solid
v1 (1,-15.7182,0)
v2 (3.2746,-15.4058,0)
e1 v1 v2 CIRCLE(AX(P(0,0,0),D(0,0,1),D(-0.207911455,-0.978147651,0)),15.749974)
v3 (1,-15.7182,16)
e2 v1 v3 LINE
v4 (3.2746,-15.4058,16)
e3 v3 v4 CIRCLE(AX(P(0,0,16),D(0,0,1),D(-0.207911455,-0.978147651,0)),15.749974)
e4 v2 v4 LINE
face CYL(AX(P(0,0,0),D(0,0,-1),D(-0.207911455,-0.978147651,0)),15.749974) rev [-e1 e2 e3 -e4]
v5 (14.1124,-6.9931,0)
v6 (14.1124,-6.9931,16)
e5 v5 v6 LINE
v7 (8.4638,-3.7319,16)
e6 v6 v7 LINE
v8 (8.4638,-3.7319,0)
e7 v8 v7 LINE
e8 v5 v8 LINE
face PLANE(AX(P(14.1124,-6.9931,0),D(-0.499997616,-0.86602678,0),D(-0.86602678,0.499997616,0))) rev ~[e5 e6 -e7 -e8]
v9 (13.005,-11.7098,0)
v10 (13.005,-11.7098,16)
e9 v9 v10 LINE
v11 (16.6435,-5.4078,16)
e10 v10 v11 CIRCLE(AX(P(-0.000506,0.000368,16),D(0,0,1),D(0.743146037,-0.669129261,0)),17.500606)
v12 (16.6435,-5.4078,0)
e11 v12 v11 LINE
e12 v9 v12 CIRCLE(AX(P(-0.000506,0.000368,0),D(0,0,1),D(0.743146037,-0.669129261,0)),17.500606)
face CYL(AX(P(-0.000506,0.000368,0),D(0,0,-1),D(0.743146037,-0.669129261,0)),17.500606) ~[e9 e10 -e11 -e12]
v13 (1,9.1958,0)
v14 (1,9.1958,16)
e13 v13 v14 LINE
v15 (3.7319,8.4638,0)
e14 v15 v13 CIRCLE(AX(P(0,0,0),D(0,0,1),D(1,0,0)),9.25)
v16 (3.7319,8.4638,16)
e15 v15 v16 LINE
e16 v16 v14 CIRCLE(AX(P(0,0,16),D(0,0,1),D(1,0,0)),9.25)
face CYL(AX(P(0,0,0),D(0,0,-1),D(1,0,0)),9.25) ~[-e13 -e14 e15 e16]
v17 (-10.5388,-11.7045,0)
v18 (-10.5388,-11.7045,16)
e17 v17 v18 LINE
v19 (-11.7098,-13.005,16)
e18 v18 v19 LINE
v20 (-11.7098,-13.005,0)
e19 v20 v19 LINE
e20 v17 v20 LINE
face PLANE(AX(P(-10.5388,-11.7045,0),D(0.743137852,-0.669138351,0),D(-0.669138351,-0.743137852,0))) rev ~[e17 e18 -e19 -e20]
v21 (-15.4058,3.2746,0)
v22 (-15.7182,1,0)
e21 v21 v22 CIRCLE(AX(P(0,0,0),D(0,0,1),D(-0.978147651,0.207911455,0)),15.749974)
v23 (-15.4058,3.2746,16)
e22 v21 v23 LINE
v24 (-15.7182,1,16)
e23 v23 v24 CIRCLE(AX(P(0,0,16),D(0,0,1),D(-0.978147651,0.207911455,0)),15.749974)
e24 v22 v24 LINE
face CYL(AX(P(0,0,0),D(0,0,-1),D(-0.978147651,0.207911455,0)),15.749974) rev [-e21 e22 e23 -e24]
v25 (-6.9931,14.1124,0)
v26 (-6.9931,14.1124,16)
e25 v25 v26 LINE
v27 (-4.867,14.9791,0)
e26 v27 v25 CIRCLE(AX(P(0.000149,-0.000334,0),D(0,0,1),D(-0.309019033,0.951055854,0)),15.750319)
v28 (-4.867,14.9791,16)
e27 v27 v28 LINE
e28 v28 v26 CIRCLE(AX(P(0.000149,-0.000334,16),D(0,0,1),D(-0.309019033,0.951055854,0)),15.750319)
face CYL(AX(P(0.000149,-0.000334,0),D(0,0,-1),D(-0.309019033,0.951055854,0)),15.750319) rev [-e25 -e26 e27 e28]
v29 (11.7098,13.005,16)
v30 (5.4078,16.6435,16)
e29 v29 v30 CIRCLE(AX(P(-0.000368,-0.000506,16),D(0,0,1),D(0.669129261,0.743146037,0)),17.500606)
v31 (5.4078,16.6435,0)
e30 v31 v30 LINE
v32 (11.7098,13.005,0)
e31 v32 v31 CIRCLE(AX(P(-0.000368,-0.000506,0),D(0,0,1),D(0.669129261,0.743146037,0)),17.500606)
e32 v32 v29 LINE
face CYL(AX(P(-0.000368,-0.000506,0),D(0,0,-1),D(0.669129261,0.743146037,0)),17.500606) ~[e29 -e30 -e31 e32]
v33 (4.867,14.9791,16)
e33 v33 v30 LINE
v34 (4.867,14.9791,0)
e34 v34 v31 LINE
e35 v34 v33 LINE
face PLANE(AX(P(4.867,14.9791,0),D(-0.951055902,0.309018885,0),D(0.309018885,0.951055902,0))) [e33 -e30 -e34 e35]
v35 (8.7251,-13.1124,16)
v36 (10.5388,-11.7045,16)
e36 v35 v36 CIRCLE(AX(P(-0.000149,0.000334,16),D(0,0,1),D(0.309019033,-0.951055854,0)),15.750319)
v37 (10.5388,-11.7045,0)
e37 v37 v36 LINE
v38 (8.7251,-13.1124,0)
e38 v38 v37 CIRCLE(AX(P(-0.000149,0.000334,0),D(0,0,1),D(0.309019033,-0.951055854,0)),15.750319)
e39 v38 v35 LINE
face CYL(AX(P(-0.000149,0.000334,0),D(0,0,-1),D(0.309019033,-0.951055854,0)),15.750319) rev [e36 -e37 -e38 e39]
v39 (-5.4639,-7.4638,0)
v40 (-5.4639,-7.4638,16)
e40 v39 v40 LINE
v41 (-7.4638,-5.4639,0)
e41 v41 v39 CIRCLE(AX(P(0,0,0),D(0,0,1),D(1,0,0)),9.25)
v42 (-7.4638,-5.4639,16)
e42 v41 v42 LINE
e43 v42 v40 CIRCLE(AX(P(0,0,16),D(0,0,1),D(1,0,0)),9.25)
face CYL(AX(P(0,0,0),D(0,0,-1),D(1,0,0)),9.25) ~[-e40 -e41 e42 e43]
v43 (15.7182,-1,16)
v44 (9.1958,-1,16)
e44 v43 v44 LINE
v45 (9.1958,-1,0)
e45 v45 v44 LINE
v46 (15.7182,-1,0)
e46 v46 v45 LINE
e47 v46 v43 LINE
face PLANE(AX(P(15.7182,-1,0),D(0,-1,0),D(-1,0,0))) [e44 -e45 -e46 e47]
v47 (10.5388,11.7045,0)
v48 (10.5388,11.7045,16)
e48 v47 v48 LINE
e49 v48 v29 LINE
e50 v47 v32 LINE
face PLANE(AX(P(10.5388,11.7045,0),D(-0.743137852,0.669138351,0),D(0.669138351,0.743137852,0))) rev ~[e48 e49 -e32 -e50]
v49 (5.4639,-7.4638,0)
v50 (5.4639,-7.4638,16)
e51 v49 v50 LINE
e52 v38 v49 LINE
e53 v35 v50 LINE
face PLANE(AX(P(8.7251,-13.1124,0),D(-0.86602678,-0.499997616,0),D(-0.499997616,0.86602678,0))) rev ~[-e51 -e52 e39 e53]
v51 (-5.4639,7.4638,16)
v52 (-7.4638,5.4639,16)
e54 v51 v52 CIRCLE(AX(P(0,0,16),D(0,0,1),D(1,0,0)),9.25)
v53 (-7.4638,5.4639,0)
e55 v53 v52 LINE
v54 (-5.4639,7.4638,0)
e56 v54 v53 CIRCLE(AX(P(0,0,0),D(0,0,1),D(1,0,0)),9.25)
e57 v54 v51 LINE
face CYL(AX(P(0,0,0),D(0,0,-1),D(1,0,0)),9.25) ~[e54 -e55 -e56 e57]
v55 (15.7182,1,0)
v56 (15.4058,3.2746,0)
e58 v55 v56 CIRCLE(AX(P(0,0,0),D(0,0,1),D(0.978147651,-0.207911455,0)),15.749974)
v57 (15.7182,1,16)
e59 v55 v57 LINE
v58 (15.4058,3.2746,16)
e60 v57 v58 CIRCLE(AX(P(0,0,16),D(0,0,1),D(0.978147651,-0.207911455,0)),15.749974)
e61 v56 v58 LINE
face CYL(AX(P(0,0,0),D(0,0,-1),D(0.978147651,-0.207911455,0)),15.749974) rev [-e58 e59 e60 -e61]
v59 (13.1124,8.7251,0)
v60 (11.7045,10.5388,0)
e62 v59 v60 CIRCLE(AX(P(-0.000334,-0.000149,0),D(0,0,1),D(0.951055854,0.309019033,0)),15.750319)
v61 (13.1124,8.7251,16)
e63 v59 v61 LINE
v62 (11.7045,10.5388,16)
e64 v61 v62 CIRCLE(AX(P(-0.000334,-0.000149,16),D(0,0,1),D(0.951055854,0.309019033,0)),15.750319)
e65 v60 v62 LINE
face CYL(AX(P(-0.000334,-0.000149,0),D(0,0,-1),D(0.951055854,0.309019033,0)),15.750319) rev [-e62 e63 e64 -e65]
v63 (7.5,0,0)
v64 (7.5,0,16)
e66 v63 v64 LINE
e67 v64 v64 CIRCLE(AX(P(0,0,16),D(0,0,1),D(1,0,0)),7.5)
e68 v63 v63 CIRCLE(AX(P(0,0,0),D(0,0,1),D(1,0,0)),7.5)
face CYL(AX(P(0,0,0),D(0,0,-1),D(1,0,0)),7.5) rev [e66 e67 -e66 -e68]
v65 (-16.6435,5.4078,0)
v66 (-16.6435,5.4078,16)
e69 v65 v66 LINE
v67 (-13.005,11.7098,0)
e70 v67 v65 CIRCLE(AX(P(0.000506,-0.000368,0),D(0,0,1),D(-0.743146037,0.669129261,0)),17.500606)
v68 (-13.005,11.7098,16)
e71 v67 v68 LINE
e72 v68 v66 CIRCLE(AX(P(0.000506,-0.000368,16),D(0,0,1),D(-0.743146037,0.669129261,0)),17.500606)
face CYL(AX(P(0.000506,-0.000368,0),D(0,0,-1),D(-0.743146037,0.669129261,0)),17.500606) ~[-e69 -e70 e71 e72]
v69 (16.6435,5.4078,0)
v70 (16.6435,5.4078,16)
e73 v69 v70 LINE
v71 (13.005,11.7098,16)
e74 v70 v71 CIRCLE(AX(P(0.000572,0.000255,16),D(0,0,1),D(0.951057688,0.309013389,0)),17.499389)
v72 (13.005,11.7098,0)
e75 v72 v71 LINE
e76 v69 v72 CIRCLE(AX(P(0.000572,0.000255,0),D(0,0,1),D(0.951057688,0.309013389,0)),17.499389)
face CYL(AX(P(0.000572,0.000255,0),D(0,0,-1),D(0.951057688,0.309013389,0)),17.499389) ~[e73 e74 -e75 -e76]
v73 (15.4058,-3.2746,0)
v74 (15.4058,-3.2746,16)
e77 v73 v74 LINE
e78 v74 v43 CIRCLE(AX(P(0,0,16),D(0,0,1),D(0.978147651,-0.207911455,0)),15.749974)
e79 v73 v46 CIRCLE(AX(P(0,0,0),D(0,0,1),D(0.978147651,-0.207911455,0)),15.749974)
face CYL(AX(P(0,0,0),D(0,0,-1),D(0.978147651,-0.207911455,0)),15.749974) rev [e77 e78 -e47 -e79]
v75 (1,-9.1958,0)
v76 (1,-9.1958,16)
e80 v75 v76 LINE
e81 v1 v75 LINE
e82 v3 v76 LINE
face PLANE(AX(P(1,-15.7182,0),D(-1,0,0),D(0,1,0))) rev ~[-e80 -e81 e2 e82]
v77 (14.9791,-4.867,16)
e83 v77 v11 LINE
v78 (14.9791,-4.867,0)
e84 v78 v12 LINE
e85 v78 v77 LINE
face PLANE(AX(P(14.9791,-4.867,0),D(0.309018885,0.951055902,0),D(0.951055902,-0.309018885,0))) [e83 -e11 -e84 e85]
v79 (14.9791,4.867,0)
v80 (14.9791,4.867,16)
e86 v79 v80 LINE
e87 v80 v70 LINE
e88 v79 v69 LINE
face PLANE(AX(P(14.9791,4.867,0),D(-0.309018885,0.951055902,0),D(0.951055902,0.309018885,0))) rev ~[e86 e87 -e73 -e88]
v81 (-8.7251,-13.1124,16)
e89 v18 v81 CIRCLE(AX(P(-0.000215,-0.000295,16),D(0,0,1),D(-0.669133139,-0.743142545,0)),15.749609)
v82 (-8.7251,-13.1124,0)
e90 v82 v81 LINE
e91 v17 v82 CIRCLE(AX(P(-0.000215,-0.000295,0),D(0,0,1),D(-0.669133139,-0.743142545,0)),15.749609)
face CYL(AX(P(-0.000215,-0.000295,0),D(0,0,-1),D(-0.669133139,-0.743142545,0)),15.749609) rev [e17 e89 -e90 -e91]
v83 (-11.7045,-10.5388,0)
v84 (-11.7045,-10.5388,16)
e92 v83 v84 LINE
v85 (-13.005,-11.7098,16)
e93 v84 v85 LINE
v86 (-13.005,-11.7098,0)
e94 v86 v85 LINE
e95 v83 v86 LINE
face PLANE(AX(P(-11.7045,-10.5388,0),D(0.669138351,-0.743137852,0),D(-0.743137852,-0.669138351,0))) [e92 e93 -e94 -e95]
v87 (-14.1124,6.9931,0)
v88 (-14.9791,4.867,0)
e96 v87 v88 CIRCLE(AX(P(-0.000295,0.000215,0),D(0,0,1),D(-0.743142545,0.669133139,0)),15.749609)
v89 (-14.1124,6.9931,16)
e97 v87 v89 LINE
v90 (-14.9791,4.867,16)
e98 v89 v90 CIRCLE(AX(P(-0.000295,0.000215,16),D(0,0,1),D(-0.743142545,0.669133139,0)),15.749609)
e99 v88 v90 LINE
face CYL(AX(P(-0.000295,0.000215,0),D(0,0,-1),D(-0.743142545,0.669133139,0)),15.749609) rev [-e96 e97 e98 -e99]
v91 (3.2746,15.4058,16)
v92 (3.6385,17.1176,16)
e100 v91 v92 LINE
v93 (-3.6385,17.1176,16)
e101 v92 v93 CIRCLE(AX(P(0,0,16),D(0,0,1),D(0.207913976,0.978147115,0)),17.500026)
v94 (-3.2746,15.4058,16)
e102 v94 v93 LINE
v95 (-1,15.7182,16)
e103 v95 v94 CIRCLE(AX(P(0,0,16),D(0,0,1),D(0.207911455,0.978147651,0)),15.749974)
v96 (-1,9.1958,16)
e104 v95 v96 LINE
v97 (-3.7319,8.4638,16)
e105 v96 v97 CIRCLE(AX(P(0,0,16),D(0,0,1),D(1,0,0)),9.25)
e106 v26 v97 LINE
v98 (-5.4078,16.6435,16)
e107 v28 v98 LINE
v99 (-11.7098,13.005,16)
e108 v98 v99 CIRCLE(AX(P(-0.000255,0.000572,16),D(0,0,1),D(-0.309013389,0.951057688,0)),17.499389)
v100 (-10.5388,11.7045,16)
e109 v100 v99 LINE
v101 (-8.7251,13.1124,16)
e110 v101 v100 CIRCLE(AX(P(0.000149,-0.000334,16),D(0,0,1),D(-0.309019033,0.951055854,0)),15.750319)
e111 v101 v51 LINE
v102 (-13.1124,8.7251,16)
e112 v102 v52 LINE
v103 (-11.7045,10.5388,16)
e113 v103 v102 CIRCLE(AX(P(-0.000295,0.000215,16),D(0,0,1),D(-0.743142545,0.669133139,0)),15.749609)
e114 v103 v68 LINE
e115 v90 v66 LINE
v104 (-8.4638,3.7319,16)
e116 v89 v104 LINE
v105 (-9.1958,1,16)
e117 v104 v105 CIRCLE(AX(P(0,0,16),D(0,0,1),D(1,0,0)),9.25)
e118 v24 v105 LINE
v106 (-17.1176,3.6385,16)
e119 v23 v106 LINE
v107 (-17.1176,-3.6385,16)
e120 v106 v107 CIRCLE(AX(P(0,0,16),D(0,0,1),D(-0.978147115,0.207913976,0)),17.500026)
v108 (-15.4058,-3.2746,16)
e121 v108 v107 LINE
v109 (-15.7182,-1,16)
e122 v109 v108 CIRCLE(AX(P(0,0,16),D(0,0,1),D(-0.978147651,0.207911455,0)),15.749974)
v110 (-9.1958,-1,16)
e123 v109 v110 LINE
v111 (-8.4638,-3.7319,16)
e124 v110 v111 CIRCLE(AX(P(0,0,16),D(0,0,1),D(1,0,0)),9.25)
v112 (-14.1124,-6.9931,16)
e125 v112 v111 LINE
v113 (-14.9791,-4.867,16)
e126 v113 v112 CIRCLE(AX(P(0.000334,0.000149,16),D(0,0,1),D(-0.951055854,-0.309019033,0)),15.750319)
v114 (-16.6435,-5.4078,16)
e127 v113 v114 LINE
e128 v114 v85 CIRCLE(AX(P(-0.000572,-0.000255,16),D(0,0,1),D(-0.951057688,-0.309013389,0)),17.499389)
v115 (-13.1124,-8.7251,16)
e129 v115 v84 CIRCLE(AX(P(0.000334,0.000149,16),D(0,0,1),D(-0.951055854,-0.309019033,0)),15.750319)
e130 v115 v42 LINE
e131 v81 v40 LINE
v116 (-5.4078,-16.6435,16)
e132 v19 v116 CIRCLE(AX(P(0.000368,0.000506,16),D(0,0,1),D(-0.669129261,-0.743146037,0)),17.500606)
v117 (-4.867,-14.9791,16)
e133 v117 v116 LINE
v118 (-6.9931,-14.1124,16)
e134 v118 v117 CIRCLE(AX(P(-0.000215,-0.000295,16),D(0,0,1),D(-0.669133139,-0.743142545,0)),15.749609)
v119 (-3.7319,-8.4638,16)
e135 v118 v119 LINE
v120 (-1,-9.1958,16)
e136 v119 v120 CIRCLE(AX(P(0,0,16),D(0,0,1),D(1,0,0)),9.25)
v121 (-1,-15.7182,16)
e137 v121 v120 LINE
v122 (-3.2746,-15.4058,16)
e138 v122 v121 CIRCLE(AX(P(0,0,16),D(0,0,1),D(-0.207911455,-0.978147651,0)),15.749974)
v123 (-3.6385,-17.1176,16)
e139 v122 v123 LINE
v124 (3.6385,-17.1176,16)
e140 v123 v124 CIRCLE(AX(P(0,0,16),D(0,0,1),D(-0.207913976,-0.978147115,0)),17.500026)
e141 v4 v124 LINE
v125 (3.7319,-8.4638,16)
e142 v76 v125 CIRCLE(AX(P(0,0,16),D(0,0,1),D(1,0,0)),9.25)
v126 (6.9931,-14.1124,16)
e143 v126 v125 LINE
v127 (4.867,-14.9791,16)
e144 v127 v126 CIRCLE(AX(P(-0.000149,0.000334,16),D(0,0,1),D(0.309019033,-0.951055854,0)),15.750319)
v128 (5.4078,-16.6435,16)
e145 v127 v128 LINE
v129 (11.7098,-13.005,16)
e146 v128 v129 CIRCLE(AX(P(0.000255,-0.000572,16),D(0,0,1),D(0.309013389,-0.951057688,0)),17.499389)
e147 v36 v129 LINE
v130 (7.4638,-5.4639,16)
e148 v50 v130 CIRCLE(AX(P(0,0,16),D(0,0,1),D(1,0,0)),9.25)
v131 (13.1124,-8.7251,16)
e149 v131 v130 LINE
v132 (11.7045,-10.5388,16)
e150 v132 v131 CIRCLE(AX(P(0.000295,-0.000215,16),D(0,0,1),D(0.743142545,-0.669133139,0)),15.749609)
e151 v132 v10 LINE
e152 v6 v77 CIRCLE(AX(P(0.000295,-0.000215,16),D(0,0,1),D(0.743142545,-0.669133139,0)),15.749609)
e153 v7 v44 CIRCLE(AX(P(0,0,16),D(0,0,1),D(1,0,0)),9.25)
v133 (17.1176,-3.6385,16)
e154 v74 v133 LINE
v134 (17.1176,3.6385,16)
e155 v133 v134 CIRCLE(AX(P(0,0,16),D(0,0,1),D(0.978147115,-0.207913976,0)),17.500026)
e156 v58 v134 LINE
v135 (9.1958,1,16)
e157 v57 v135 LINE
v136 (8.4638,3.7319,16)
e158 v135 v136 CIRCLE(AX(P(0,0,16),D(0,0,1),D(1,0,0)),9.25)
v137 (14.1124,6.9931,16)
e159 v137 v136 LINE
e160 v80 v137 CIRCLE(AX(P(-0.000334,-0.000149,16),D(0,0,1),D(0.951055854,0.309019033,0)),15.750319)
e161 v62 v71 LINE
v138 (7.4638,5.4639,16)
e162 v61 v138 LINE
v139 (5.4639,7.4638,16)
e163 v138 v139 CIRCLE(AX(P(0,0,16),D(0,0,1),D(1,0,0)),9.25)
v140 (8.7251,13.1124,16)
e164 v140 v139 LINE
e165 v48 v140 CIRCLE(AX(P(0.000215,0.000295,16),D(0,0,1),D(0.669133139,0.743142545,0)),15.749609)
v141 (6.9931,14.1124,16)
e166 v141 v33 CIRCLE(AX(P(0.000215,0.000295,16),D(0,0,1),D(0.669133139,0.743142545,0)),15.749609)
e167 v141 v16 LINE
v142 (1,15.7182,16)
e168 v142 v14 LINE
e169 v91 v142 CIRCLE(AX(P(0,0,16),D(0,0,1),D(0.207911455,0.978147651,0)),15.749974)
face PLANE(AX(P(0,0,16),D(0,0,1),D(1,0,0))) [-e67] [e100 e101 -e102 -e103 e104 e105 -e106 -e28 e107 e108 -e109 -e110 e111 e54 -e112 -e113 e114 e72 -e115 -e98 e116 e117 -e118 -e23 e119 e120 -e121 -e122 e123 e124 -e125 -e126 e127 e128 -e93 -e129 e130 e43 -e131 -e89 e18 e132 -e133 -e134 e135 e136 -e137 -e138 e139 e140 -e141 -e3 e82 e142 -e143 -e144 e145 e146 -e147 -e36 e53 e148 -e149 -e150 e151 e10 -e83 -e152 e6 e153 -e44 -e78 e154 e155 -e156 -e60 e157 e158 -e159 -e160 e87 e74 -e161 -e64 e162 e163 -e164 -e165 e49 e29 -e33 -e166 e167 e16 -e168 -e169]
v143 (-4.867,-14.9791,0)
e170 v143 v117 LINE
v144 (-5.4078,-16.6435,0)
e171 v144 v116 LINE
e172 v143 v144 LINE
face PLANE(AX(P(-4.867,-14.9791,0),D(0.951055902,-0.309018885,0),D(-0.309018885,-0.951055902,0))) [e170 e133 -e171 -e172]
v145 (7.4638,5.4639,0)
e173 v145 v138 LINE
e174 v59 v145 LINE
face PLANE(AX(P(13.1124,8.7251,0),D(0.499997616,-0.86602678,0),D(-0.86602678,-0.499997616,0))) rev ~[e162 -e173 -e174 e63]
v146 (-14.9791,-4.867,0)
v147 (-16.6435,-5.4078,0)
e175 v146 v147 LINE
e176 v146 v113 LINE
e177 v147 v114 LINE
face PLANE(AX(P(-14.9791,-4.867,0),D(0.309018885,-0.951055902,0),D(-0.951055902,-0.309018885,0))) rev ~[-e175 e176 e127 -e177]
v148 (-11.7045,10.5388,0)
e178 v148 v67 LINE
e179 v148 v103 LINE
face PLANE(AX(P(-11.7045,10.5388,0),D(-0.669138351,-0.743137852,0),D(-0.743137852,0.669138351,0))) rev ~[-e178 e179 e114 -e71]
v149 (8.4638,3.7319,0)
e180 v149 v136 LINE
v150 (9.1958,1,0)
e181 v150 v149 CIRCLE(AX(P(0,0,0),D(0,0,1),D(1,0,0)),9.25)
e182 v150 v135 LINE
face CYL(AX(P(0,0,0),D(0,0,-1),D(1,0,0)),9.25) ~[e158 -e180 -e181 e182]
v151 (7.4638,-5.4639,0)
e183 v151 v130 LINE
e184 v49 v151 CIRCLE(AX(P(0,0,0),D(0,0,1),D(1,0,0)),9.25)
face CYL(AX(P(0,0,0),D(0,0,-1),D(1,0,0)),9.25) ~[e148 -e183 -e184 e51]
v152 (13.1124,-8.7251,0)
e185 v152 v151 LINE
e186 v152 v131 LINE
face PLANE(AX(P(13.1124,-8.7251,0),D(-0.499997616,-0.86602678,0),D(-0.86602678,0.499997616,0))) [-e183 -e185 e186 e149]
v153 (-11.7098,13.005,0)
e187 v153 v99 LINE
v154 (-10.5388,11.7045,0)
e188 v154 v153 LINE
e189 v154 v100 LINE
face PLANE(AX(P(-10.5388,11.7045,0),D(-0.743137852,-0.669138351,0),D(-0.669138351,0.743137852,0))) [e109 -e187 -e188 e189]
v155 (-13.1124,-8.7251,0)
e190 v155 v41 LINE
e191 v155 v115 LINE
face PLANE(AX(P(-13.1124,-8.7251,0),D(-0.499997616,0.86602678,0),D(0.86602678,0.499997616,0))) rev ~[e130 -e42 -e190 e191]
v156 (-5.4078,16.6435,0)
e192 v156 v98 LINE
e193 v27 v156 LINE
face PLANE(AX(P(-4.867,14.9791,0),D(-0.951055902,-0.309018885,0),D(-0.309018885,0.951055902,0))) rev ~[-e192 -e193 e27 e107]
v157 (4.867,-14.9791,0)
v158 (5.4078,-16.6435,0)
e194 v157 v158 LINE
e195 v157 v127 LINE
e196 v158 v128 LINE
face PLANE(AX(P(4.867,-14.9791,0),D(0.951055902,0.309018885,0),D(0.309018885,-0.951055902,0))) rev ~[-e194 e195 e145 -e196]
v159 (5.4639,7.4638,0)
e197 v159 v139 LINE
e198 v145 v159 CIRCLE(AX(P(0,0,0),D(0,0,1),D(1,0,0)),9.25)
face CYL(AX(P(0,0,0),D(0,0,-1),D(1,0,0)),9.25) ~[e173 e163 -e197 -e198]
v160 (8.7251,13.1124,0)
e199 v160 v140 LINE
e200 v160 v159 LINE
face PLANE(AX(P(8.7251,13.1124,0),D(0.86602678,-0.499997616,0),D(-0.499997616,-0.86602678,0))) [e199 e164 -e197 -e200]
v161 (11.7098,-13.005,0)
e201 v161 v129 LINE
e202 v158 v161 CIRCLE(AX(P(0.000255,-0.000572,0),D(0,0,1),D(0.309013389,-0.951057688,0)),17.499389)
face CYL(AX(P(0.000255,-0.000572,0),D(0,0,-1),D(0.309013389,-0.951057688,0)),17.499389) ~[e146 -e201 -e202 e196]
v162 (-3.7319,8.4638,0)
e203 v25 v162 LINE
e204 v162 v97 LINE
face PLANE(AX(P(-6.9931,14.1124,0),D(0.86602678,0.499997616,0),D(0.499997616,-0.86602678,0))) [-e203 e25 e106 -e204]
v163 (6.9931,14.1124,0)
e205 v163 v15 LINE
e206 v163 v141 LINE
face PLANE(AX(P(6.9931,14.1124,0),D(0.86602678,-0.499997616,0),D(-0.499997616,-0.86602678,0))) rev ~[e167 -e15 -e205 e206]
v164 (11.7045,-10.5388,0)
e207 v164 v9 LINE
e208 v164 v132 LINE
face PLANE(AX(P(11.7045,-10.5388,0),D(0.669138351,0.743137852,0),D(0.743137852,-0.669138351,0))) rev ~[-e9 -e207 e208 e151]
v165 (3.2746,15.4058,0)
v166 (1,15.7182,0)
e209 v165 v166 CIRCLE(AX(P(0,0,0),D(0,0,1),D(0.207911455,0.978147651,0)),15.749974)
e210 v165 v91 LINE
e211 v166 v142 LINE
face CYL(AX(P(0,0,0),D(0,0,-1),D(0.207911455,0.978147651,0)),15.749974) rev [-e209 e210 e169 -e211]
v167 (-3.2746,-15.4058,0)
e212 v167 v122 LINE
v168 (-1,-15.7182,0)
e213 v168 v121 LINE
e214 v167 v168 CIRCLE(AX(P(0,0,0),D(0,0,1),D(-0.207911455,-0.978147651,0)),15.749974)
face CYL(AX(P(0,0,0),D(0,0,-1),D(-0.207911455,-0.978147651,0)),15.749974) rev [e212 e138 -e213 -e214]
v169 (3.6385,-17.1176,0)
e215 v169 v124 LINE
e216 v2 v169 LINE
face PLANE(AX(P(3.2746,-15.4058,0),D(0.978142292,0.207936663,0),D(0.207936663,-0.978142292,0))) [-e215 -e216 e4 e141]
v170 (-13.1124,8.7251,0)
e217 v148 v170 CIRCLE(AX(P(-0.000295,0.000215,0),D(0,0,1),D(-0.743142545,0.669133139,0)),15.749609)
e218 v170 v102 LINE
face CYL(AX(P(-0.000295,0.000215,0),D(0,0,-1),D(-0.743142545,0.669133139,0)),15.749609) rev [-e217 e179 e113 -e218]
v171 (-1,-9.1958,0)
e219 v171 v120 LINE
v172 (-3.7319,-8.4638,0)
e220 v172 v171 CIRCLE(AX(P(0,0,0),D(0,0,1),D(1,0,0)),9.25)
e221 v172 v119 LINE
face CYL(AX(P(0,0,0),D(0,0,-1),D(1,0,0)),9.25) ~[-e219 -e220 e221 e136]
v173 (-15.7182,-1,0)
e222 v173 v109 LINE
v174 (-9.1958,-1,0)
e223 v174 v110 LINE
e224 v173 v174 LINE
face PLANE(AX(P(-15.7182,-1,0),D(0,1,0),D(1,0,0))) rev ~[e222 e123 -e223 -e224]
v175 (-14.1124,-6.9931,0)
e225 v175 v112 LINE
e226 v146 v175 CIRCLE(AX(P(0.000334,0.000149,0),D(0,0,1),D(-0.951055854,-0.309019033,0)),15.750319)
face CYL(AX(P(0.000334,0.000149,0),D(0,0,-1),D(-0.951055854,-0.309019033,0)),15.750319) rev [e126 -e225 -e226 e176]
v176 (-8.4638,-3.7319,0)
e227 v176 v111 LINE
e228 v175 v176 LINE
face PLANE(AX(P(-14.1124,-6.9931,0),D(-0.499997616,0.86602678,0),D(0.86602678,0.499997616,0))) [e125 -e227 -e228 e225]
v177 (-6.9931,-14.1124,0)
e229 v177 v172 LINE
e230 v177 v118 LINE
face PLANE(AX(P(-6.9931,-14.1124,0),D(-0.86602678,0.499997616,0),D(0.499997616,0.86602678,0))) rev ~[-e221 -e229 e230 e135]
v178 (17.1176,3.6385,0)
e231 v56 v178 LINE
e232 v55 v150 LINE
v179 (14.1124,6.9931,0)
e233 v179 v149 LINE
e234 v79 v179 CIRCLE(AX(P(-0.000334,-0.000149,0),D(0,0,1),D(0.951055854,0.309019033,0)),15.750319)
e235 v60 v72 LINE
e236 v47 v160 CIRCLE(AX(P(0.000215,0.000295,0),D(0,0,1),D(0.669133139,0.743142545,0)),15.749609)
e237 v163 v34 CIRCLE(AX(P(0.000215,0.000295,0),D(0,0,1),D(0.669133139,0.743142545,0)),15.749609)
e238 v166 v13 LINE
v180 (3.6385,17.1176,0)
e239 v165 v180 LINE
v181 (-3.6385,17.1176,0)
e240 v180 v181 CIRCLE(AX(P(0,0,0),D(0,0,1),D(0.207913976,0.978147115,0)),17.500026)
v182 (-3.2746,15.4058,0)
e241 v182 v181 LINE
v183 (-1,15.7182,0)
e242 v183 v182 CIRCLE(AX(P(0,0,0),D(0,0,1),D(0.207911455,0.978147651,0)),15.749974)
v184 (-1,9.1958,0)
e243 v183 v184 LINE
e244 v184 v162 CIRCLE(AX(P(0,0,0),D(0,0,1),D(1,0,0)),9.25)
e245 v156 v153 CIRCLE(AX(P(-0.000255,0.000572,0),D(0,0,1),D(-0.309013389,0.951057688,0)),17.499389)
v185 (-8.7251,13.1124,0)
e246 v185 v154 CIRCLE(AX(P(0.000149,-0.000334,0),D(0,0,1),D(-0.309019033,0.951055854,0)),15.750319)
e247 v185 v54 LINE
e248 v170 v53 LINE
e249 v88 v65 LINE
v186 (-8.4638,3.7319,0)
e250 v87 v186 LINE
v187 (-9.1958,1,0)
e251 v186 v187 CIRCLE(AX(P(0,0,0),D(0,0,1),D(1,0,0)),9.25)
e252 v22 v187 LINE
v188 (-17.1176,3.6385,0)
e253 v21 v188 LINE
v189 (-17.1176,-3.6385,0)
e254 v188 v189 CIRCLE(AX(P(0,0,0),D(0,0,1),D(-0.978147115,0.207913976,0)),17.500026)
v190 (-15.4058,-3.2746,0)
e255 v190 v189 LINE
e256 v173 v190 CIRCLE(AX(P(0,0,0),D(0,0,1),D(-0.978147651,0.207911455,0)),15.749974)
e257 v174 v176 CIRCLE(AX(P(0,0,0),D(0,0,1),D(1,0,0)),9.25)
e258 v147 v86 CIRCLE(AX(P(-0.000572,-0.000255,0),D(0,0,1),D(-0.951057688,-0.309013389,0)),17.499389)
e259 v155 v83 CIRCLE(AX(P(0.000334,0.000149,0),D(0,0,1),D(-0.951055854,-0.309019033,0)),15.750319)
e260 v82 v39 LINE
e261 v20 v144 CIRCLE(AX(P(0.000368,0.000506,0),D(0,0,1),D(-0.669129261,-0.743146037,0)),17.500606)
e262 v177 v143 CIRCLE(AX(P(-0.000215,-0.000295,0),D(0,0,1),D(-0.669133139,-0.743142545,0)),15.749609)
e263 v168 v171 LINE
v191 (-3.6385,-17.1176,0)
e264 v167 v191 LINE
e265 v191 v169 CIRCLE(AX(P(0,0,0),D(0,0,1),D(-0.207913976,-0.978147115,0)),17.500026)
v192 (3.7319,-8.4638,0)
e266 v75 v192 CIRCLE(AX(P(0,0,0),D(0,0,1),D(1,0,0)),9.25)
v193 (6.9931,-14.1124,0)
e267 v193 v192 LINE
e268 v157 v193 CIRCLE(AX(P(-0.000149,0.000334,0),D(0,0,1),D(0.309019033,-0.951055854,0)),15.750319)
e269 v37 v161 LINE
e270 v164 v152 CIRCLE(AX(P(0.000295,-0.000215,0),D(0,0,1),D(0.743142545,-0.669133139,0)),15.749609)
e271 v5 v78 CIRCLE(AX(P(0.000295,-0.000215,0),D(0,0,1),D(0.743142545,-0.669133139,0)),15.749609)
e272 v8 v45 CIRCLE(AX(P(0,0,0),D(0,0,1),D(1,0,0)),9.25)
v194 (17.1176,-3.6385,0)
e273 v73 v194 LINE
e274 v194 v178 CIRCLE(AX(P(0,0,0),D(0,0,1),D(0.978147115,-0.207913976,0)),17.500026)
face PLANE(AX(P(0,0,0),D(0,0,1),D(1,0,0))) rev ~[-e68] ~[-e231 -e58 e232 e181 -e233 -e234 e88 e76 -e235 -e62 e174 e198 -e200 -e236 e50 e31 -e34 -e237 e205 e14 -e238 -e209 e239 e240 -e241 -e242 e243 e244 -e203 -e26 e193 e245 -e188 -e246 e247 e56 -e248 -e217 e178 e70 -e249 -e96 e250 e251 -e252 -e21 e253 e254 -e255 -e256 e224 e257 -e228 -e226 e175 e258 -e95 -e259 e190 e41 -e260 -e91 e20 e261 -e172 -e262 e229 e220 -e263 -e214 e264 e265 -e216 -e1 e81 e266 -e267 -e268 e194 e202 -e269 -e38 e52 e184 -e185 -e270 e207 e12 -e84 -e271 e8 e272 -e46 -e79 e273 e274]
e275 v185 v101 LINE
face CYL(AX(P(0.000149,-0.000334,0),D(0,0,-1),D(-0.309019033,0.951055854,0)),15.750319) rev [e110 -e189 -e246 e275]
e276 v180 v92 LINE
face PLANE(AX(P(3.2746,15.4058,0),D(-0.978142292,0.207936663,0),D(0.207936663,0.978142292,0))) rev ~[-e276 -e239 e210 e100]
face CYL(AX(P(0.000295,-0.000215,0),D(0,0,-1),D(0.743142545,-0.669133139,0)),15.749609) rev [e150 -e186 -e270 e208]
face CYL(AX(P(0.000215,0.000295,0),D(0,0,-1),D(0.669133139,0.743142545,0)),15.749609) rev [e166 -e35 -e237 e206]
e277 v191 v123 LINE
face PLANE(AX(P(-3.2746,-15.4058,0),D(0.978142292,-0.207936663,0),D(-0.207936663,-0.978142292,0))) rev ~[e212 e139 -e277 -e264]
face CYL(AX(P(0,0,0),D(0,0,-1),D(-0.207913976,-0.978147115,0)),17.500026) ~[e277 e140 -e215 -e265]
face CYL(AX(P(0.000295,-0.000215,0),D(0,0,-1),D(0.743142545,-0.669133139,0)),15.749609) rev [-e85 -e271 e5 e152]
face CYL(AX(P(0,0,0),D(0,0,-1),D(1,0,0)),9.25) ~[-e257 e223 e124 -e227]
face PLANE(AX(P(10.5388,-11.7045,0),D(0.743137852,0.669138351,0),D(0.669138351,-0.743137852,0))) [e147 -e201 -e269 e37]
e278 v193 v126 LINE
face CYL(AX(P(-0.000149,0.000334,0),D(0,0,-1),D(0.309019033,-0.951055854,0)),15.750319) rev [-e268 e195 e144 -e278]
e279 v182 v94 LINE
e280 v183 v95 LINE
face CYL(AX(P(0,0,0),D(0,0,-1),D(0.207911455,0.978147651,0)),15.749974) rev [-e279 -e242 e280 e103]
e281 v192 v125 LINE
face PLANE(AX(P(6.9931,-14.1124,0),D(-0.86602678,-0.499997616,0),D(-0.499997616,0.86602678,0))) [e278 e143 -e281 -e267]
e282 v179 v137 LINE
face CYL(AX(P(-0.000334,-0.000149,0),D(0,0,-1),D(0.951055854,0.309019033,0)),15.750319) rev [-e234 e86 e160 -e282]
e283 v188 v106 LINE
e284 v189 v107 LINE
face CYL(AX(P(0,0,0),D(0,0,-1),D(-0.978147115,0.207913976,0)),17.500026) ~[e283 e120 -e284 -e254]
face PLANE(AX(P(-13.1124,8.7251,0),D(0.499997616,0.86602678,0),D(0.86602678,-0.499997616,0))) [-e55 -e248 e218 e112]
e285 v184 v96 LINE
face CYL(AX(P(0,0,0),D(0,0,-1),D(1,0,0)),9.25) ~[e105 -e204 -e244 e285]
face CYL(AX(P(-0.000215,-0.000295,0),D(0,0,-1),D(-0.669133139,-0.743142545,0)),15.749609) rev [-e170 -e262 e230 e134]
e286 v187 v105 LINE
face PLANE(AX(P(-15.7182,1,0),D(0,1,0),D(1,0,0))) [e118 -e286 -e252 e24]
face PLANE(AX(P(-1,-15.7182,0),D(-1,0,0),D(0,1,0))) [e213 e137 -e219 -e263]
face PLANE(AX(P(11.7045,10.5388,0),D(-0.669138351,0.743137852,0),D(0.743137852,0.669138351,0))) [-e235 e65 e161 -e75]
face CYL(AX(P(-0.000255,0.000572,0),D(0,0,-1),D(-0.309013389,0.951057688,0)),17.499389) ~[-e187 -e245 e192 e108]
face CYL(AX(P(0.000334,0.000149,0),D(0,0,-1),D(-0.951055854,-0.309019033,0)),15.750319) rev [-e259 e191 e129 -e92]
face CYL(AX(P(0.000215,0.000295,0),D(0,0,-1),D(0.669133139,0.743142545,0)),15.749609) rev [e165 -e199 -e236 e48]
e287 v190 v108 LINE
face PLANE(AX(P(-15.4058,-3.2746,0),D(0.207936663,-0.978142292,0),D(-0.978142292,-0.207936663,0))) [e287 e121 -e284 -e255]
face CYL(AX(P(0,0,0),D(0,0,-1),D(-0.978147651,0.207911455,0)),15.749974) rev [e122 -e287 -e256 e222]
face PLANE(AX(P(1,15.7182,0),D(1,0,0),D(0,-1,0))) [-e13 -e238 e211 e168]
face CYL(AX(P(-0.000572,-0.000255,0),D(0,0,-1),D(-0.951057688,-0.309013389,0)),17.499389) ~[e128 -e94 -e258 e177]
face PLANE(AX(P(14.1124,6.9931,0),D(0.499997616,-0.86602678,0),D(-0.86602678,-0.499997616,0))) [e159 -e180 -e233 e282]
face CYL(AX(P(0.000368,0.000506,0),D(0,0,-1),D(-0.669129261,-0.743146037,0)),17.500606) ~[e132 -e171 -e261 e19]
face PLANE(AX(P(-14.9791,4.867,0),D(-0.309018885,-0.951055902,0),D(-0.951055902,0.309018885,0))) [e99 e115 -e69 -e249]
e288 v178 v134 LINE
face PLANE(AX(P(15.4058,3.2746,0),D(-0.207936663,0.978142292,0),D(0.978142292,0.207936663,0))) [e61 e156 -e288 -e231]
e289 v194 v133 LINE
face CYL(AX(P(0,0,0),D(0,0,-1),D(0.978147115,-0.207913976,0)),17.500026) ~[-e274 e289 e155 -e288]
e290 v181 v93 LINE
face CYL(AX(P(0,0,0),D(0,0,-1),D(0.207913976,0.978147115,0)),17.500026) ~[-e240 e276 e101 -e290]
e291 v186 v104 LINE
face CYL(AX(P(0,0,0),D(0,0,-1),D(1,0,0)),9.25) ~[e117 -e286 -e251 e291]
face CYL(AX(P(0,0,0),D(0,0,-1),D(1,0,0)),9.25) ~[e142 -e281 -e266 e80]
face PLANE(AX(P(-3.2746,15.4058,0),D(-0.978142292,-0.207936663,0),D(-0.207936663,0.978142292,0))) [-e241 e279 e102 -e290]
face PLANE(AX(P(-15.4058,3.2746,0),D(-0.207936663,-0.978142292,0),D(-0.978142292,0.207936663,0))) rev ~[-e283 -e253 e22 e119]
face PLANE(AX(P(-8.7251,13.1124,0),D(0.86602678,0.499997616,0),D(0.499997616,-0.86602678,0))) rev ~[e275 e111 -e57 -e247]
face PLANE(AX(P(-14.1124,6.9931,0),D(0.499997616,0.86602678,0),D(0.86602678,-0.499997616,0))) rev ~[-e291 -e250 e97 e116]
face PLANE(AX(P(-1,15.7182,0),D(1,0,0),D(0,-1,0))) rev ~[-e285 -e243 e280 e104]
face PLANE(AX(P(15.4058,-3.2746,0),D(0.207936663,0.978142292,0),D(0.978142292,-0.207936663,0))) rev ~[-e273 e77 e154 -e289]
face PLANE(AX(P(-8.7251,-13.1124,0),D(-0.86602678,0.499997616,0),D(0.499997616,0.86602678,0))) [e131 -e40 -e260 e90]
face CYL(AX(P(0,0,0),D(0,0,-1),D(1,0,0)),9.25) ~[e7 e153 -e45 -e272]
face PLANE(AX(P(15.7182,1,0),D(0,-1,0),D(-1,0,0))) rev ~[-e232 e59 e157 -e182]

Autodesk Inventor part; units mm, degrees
ref_plane "YZ Plane" through (0, 0, 0) normal (1, 0, 0) x (0, 1, 0)
ref_plane "XZ Plane" through (0, 0, 0) normal (0, 1, 0) x (-1, 0, 0)
ref_plane "XY Plane" through (0, 0, 0) normal (0, 0, 1) x (1, 0, 0)
sketch "Sketch1" plane through (0, 0, 0) normal (0, 0, 1) x (1, 0, 0)
  arc A0 (-17.1176, 3.6385) -> (-17.1176, -3.6385) centre (0, 0) ccw
  circle A1 centre (0, 0) radius 7.5
  arc A2 (-15.4058, 3.2746) -> (-15.4058, -3.2746) centre (0, 0) ccw
  circle A3 centre (0, 0) radius 9.25
  line L0 (0, 0) -> (-17.5, 0) construction
  line L1 (-15.7182, -1) -> (-9.1958, -1)
  line L2 (-15.7182, 1) -> (-9.1958, 1)
  line L3 (-15.4058, 3.2746) -> (-17.1176, 3.6385)
  line L4 (-15.4058, -3.2746) -> (-17.1176, -3.6385)
  line L5 (0, 0) -> (-17.1176, 3.6385) construction
  arc A4 (-16.6435, -5.4078) -> (-13.005, -11.7098) centre (0, 0) ccw
  arc A5 (-14.9791, -4.867) -> (-11.7045, -10.5388) centre (0, 0) ccw
  line L6 (-13.1124, -8.7251) -> (-7.4638, -5.4639)
  line L7 (-14.1124, -6.9931) -> (-8.4638, -3.7319)
  line L8 (-14.9791, -4.867) -> (-16.6435, -5.4078)
  line L9 (-11.7045, -10.5388) -> (-13.005, -11.7098)
  arc A6 (-11.7098, -13.005) -> (-5.4078, -16.6435) centre (0, 0) ccw
  arc A7 (-10.5388, -11.7045) -> (-4.867, -14.9791) centre (0, 0) ccw
  line L10 (-6.9931, -14.1124) -> (-3.7319, -8.4638)
  line L11 (-8.7251, -13.1124) -> (-5.4639, -7.4638)
  line L12 (-10.5388, -11.7045) -> (-11.7098, -13.005)
  line L13 (-4.867, -14.9791) -> (-5.4078, -16.6435)
  arc A8 (-3.6385, -17.1176) -> (3.6385, -17.1176) centre (0, 0) ccw
  arc A9 (-3.2746, -15.4058) -> (3.2746, -15.4058) centre (0, 0) ccw
  line L14 (1, -15.7182) -> (1, -9.1958)
  line L15 (-1, -15.7182) -> (-1, -9.1958)
  line L16 (-3.2746, -15.4058) -> (-3.6385, -17.1176)
  line L17 (3.2746, -15.4058) -> (3.6385, -17.1176)
  arc A10 (5.4078, -16.6435) -> (11.7098, -13.005) centre (0, 0) ccw
  arc A11 (4.867, -14.9791) -> (10.5388, -11.7045) centre (0, 0) ccw
  line L18 (8.7251, -13.1124) -> (5.4639, -7.4638)
  line L19 (6.9931, -14.1124) -> (3.7319, -8.4638)
  line L20 (4.867, -14.9791) -> (5.4078, -16.6435)
  line L21 (10.5388, -11.7045) -> (11.7098, -13.005)
  arc A12 (13.005, -11.7098) -> (16.6435, -5.4078) centre (0, 0) ccw
  arc A13 (11.7045, -10.5388) -> (14.9791, -4.867) centre (0, 0) ccw
  line L22 (14.1124, -6.9931) -> (8.4638, -3.7319)
  line L23 (13.1124, -8.7251) -> (7.4638, -5.4639)
  line L24 (11.7045, -10.5388) -> (13.005, -11.7098)
  line L25 (14.9791, -4.867) -> (16.6435, -5.4078)
  arc A14 (17.1176, -3.6385) -> (17.1176, 3.6385) centre (0, 0) ccw
  arc A15 (15.4058, -3.2746) -> (15.4058, 3.2746) centre (0, 0) ccw
  line L26 (15.7182, 1) -> (9.1958, 1)
  line L27 (15.7182, -1) -> (9.1958, -1)
  line L28 (15.4058, -3.2746) -> (17.1176, -3.6385)
  line L29 (15.4058, 3.2746) -> (17.1176, 3.6385)
  arc A16 (16.6435, 5.4078) -> (13.005, 11.7098) centre (0, 0) ccw
  arc A17 (14.9791, 4.867) -> (11.7045, 10.5388) centre (0, 0) ccw
  line L30 (13.1124, 8.7251) -> (7.4638, 5.4639)
  line L31 (14.1124, 6.9931) -> (8.4638, 3.7319)
  line L32 (14.9791, 4.867) -> (16.6435, 5.4078)
  line L33 (11.7045, 10.5388) -> (13.005, 11.7098)
  arc A18 (11.7098, 13.005) -> (5.4078, 16.6435) centre (0, 0) ccw
  arc A19 (10.5388, 11.7045) -> (4.867, 14.9791) centre (0, 0) ccw
  line L34 (6.9931, 14.1124) -> (3.7319, 8.4638)
  line L35 (8.7251, 13.1124) -> (5.4639, 7.4638)
  line L36 (10.5388, 11.7045) -> (11.7098, 13.005)
  line L37 (4.867, 14.9791) -> (5.4078, 16.6435)
  arc A20 (3.6385, 17.1176) -> (-3.6385, 17.1176) centre (0, 0) ccw
  arc A21 (3.2746, 15.4058) -> (-3.2746, 15.4058) centre (0, 0) ccw
  line L38 (-1, 15.7182) -> (-1, 9.1958)
  line L39 (1, 15.7182) -> (1, 9.1958)
  line L40 (3.2746, 15.4058) -> (3.6385, 17.1176)
  line L41 (-3.2746, 15.4058) -> (-3.6385, 17.1176)
  arc A22 (-5.4078, 16.6435) -> (-11.7098, 13.005) centre (0, 0) ccw
  arc A23 (-4.867, 14.9791) -> (-10.5388, 11.7045) centre (0, 0) ccw
  line L42 (-8.7251, 13.1124) -> (-5.4639, 7.4638)
  line L43 (-6.9931, 14.1124) -> (-3.7319, 8.4638)
  line L44 (-4.867, 14.9791) -> (-5.4078, 16.6435)
  line L45 (-10.5388, 11.7045) -> (-11.7098, 13.005)
  arc A24 (-13.005, 11.7098) -> (-16.6435, 5.4078) centre (0, 0) ccw
  arc A25 (-11.7045, 10.5388) -> (-14.9791, 4.867) centre (0, 0) ccw
  line L46 (-14.1124, 6.9931) -> (-8.4638, 3.7319)
  line L47 (-13.1124, 8.7251) -> (-7.4638, 5.4639)
  line L48 (-11.7045, 10.5388) -> (-13.005, 11.7098)
  line L49 (-14.9791, 4.867) -> (-16.6435, 5.4078)
  point P0 (-15.1554, -8.75)
  point P1 (-8.75, -15.1554)
  point P2 (0, -17.5)
  point P3 (8.75, -15.1554)
  point P4 (15.1554, -8.75)
  point P5 (17.5, 0)
  point P6 (15.1554, 8.75)
  point P7 (8.75, 15.1554)
  point P8 (0, 17.5)
  point P9 (-8.75, 15.1554)
  point P10 (-15.1554, 8.75)
  dimension "d0" = 35
  dimension "d1" = 15
  dimension "d2" = 1.75
  dimension "d3" = 1.75
  dimension "d6" = 1
  dimension "d7" = 12
  dimension "d10" = 360
extrude "Extrusion1" add sketch "Sketch1" along normal blind 16
properties part number "STATOR"
